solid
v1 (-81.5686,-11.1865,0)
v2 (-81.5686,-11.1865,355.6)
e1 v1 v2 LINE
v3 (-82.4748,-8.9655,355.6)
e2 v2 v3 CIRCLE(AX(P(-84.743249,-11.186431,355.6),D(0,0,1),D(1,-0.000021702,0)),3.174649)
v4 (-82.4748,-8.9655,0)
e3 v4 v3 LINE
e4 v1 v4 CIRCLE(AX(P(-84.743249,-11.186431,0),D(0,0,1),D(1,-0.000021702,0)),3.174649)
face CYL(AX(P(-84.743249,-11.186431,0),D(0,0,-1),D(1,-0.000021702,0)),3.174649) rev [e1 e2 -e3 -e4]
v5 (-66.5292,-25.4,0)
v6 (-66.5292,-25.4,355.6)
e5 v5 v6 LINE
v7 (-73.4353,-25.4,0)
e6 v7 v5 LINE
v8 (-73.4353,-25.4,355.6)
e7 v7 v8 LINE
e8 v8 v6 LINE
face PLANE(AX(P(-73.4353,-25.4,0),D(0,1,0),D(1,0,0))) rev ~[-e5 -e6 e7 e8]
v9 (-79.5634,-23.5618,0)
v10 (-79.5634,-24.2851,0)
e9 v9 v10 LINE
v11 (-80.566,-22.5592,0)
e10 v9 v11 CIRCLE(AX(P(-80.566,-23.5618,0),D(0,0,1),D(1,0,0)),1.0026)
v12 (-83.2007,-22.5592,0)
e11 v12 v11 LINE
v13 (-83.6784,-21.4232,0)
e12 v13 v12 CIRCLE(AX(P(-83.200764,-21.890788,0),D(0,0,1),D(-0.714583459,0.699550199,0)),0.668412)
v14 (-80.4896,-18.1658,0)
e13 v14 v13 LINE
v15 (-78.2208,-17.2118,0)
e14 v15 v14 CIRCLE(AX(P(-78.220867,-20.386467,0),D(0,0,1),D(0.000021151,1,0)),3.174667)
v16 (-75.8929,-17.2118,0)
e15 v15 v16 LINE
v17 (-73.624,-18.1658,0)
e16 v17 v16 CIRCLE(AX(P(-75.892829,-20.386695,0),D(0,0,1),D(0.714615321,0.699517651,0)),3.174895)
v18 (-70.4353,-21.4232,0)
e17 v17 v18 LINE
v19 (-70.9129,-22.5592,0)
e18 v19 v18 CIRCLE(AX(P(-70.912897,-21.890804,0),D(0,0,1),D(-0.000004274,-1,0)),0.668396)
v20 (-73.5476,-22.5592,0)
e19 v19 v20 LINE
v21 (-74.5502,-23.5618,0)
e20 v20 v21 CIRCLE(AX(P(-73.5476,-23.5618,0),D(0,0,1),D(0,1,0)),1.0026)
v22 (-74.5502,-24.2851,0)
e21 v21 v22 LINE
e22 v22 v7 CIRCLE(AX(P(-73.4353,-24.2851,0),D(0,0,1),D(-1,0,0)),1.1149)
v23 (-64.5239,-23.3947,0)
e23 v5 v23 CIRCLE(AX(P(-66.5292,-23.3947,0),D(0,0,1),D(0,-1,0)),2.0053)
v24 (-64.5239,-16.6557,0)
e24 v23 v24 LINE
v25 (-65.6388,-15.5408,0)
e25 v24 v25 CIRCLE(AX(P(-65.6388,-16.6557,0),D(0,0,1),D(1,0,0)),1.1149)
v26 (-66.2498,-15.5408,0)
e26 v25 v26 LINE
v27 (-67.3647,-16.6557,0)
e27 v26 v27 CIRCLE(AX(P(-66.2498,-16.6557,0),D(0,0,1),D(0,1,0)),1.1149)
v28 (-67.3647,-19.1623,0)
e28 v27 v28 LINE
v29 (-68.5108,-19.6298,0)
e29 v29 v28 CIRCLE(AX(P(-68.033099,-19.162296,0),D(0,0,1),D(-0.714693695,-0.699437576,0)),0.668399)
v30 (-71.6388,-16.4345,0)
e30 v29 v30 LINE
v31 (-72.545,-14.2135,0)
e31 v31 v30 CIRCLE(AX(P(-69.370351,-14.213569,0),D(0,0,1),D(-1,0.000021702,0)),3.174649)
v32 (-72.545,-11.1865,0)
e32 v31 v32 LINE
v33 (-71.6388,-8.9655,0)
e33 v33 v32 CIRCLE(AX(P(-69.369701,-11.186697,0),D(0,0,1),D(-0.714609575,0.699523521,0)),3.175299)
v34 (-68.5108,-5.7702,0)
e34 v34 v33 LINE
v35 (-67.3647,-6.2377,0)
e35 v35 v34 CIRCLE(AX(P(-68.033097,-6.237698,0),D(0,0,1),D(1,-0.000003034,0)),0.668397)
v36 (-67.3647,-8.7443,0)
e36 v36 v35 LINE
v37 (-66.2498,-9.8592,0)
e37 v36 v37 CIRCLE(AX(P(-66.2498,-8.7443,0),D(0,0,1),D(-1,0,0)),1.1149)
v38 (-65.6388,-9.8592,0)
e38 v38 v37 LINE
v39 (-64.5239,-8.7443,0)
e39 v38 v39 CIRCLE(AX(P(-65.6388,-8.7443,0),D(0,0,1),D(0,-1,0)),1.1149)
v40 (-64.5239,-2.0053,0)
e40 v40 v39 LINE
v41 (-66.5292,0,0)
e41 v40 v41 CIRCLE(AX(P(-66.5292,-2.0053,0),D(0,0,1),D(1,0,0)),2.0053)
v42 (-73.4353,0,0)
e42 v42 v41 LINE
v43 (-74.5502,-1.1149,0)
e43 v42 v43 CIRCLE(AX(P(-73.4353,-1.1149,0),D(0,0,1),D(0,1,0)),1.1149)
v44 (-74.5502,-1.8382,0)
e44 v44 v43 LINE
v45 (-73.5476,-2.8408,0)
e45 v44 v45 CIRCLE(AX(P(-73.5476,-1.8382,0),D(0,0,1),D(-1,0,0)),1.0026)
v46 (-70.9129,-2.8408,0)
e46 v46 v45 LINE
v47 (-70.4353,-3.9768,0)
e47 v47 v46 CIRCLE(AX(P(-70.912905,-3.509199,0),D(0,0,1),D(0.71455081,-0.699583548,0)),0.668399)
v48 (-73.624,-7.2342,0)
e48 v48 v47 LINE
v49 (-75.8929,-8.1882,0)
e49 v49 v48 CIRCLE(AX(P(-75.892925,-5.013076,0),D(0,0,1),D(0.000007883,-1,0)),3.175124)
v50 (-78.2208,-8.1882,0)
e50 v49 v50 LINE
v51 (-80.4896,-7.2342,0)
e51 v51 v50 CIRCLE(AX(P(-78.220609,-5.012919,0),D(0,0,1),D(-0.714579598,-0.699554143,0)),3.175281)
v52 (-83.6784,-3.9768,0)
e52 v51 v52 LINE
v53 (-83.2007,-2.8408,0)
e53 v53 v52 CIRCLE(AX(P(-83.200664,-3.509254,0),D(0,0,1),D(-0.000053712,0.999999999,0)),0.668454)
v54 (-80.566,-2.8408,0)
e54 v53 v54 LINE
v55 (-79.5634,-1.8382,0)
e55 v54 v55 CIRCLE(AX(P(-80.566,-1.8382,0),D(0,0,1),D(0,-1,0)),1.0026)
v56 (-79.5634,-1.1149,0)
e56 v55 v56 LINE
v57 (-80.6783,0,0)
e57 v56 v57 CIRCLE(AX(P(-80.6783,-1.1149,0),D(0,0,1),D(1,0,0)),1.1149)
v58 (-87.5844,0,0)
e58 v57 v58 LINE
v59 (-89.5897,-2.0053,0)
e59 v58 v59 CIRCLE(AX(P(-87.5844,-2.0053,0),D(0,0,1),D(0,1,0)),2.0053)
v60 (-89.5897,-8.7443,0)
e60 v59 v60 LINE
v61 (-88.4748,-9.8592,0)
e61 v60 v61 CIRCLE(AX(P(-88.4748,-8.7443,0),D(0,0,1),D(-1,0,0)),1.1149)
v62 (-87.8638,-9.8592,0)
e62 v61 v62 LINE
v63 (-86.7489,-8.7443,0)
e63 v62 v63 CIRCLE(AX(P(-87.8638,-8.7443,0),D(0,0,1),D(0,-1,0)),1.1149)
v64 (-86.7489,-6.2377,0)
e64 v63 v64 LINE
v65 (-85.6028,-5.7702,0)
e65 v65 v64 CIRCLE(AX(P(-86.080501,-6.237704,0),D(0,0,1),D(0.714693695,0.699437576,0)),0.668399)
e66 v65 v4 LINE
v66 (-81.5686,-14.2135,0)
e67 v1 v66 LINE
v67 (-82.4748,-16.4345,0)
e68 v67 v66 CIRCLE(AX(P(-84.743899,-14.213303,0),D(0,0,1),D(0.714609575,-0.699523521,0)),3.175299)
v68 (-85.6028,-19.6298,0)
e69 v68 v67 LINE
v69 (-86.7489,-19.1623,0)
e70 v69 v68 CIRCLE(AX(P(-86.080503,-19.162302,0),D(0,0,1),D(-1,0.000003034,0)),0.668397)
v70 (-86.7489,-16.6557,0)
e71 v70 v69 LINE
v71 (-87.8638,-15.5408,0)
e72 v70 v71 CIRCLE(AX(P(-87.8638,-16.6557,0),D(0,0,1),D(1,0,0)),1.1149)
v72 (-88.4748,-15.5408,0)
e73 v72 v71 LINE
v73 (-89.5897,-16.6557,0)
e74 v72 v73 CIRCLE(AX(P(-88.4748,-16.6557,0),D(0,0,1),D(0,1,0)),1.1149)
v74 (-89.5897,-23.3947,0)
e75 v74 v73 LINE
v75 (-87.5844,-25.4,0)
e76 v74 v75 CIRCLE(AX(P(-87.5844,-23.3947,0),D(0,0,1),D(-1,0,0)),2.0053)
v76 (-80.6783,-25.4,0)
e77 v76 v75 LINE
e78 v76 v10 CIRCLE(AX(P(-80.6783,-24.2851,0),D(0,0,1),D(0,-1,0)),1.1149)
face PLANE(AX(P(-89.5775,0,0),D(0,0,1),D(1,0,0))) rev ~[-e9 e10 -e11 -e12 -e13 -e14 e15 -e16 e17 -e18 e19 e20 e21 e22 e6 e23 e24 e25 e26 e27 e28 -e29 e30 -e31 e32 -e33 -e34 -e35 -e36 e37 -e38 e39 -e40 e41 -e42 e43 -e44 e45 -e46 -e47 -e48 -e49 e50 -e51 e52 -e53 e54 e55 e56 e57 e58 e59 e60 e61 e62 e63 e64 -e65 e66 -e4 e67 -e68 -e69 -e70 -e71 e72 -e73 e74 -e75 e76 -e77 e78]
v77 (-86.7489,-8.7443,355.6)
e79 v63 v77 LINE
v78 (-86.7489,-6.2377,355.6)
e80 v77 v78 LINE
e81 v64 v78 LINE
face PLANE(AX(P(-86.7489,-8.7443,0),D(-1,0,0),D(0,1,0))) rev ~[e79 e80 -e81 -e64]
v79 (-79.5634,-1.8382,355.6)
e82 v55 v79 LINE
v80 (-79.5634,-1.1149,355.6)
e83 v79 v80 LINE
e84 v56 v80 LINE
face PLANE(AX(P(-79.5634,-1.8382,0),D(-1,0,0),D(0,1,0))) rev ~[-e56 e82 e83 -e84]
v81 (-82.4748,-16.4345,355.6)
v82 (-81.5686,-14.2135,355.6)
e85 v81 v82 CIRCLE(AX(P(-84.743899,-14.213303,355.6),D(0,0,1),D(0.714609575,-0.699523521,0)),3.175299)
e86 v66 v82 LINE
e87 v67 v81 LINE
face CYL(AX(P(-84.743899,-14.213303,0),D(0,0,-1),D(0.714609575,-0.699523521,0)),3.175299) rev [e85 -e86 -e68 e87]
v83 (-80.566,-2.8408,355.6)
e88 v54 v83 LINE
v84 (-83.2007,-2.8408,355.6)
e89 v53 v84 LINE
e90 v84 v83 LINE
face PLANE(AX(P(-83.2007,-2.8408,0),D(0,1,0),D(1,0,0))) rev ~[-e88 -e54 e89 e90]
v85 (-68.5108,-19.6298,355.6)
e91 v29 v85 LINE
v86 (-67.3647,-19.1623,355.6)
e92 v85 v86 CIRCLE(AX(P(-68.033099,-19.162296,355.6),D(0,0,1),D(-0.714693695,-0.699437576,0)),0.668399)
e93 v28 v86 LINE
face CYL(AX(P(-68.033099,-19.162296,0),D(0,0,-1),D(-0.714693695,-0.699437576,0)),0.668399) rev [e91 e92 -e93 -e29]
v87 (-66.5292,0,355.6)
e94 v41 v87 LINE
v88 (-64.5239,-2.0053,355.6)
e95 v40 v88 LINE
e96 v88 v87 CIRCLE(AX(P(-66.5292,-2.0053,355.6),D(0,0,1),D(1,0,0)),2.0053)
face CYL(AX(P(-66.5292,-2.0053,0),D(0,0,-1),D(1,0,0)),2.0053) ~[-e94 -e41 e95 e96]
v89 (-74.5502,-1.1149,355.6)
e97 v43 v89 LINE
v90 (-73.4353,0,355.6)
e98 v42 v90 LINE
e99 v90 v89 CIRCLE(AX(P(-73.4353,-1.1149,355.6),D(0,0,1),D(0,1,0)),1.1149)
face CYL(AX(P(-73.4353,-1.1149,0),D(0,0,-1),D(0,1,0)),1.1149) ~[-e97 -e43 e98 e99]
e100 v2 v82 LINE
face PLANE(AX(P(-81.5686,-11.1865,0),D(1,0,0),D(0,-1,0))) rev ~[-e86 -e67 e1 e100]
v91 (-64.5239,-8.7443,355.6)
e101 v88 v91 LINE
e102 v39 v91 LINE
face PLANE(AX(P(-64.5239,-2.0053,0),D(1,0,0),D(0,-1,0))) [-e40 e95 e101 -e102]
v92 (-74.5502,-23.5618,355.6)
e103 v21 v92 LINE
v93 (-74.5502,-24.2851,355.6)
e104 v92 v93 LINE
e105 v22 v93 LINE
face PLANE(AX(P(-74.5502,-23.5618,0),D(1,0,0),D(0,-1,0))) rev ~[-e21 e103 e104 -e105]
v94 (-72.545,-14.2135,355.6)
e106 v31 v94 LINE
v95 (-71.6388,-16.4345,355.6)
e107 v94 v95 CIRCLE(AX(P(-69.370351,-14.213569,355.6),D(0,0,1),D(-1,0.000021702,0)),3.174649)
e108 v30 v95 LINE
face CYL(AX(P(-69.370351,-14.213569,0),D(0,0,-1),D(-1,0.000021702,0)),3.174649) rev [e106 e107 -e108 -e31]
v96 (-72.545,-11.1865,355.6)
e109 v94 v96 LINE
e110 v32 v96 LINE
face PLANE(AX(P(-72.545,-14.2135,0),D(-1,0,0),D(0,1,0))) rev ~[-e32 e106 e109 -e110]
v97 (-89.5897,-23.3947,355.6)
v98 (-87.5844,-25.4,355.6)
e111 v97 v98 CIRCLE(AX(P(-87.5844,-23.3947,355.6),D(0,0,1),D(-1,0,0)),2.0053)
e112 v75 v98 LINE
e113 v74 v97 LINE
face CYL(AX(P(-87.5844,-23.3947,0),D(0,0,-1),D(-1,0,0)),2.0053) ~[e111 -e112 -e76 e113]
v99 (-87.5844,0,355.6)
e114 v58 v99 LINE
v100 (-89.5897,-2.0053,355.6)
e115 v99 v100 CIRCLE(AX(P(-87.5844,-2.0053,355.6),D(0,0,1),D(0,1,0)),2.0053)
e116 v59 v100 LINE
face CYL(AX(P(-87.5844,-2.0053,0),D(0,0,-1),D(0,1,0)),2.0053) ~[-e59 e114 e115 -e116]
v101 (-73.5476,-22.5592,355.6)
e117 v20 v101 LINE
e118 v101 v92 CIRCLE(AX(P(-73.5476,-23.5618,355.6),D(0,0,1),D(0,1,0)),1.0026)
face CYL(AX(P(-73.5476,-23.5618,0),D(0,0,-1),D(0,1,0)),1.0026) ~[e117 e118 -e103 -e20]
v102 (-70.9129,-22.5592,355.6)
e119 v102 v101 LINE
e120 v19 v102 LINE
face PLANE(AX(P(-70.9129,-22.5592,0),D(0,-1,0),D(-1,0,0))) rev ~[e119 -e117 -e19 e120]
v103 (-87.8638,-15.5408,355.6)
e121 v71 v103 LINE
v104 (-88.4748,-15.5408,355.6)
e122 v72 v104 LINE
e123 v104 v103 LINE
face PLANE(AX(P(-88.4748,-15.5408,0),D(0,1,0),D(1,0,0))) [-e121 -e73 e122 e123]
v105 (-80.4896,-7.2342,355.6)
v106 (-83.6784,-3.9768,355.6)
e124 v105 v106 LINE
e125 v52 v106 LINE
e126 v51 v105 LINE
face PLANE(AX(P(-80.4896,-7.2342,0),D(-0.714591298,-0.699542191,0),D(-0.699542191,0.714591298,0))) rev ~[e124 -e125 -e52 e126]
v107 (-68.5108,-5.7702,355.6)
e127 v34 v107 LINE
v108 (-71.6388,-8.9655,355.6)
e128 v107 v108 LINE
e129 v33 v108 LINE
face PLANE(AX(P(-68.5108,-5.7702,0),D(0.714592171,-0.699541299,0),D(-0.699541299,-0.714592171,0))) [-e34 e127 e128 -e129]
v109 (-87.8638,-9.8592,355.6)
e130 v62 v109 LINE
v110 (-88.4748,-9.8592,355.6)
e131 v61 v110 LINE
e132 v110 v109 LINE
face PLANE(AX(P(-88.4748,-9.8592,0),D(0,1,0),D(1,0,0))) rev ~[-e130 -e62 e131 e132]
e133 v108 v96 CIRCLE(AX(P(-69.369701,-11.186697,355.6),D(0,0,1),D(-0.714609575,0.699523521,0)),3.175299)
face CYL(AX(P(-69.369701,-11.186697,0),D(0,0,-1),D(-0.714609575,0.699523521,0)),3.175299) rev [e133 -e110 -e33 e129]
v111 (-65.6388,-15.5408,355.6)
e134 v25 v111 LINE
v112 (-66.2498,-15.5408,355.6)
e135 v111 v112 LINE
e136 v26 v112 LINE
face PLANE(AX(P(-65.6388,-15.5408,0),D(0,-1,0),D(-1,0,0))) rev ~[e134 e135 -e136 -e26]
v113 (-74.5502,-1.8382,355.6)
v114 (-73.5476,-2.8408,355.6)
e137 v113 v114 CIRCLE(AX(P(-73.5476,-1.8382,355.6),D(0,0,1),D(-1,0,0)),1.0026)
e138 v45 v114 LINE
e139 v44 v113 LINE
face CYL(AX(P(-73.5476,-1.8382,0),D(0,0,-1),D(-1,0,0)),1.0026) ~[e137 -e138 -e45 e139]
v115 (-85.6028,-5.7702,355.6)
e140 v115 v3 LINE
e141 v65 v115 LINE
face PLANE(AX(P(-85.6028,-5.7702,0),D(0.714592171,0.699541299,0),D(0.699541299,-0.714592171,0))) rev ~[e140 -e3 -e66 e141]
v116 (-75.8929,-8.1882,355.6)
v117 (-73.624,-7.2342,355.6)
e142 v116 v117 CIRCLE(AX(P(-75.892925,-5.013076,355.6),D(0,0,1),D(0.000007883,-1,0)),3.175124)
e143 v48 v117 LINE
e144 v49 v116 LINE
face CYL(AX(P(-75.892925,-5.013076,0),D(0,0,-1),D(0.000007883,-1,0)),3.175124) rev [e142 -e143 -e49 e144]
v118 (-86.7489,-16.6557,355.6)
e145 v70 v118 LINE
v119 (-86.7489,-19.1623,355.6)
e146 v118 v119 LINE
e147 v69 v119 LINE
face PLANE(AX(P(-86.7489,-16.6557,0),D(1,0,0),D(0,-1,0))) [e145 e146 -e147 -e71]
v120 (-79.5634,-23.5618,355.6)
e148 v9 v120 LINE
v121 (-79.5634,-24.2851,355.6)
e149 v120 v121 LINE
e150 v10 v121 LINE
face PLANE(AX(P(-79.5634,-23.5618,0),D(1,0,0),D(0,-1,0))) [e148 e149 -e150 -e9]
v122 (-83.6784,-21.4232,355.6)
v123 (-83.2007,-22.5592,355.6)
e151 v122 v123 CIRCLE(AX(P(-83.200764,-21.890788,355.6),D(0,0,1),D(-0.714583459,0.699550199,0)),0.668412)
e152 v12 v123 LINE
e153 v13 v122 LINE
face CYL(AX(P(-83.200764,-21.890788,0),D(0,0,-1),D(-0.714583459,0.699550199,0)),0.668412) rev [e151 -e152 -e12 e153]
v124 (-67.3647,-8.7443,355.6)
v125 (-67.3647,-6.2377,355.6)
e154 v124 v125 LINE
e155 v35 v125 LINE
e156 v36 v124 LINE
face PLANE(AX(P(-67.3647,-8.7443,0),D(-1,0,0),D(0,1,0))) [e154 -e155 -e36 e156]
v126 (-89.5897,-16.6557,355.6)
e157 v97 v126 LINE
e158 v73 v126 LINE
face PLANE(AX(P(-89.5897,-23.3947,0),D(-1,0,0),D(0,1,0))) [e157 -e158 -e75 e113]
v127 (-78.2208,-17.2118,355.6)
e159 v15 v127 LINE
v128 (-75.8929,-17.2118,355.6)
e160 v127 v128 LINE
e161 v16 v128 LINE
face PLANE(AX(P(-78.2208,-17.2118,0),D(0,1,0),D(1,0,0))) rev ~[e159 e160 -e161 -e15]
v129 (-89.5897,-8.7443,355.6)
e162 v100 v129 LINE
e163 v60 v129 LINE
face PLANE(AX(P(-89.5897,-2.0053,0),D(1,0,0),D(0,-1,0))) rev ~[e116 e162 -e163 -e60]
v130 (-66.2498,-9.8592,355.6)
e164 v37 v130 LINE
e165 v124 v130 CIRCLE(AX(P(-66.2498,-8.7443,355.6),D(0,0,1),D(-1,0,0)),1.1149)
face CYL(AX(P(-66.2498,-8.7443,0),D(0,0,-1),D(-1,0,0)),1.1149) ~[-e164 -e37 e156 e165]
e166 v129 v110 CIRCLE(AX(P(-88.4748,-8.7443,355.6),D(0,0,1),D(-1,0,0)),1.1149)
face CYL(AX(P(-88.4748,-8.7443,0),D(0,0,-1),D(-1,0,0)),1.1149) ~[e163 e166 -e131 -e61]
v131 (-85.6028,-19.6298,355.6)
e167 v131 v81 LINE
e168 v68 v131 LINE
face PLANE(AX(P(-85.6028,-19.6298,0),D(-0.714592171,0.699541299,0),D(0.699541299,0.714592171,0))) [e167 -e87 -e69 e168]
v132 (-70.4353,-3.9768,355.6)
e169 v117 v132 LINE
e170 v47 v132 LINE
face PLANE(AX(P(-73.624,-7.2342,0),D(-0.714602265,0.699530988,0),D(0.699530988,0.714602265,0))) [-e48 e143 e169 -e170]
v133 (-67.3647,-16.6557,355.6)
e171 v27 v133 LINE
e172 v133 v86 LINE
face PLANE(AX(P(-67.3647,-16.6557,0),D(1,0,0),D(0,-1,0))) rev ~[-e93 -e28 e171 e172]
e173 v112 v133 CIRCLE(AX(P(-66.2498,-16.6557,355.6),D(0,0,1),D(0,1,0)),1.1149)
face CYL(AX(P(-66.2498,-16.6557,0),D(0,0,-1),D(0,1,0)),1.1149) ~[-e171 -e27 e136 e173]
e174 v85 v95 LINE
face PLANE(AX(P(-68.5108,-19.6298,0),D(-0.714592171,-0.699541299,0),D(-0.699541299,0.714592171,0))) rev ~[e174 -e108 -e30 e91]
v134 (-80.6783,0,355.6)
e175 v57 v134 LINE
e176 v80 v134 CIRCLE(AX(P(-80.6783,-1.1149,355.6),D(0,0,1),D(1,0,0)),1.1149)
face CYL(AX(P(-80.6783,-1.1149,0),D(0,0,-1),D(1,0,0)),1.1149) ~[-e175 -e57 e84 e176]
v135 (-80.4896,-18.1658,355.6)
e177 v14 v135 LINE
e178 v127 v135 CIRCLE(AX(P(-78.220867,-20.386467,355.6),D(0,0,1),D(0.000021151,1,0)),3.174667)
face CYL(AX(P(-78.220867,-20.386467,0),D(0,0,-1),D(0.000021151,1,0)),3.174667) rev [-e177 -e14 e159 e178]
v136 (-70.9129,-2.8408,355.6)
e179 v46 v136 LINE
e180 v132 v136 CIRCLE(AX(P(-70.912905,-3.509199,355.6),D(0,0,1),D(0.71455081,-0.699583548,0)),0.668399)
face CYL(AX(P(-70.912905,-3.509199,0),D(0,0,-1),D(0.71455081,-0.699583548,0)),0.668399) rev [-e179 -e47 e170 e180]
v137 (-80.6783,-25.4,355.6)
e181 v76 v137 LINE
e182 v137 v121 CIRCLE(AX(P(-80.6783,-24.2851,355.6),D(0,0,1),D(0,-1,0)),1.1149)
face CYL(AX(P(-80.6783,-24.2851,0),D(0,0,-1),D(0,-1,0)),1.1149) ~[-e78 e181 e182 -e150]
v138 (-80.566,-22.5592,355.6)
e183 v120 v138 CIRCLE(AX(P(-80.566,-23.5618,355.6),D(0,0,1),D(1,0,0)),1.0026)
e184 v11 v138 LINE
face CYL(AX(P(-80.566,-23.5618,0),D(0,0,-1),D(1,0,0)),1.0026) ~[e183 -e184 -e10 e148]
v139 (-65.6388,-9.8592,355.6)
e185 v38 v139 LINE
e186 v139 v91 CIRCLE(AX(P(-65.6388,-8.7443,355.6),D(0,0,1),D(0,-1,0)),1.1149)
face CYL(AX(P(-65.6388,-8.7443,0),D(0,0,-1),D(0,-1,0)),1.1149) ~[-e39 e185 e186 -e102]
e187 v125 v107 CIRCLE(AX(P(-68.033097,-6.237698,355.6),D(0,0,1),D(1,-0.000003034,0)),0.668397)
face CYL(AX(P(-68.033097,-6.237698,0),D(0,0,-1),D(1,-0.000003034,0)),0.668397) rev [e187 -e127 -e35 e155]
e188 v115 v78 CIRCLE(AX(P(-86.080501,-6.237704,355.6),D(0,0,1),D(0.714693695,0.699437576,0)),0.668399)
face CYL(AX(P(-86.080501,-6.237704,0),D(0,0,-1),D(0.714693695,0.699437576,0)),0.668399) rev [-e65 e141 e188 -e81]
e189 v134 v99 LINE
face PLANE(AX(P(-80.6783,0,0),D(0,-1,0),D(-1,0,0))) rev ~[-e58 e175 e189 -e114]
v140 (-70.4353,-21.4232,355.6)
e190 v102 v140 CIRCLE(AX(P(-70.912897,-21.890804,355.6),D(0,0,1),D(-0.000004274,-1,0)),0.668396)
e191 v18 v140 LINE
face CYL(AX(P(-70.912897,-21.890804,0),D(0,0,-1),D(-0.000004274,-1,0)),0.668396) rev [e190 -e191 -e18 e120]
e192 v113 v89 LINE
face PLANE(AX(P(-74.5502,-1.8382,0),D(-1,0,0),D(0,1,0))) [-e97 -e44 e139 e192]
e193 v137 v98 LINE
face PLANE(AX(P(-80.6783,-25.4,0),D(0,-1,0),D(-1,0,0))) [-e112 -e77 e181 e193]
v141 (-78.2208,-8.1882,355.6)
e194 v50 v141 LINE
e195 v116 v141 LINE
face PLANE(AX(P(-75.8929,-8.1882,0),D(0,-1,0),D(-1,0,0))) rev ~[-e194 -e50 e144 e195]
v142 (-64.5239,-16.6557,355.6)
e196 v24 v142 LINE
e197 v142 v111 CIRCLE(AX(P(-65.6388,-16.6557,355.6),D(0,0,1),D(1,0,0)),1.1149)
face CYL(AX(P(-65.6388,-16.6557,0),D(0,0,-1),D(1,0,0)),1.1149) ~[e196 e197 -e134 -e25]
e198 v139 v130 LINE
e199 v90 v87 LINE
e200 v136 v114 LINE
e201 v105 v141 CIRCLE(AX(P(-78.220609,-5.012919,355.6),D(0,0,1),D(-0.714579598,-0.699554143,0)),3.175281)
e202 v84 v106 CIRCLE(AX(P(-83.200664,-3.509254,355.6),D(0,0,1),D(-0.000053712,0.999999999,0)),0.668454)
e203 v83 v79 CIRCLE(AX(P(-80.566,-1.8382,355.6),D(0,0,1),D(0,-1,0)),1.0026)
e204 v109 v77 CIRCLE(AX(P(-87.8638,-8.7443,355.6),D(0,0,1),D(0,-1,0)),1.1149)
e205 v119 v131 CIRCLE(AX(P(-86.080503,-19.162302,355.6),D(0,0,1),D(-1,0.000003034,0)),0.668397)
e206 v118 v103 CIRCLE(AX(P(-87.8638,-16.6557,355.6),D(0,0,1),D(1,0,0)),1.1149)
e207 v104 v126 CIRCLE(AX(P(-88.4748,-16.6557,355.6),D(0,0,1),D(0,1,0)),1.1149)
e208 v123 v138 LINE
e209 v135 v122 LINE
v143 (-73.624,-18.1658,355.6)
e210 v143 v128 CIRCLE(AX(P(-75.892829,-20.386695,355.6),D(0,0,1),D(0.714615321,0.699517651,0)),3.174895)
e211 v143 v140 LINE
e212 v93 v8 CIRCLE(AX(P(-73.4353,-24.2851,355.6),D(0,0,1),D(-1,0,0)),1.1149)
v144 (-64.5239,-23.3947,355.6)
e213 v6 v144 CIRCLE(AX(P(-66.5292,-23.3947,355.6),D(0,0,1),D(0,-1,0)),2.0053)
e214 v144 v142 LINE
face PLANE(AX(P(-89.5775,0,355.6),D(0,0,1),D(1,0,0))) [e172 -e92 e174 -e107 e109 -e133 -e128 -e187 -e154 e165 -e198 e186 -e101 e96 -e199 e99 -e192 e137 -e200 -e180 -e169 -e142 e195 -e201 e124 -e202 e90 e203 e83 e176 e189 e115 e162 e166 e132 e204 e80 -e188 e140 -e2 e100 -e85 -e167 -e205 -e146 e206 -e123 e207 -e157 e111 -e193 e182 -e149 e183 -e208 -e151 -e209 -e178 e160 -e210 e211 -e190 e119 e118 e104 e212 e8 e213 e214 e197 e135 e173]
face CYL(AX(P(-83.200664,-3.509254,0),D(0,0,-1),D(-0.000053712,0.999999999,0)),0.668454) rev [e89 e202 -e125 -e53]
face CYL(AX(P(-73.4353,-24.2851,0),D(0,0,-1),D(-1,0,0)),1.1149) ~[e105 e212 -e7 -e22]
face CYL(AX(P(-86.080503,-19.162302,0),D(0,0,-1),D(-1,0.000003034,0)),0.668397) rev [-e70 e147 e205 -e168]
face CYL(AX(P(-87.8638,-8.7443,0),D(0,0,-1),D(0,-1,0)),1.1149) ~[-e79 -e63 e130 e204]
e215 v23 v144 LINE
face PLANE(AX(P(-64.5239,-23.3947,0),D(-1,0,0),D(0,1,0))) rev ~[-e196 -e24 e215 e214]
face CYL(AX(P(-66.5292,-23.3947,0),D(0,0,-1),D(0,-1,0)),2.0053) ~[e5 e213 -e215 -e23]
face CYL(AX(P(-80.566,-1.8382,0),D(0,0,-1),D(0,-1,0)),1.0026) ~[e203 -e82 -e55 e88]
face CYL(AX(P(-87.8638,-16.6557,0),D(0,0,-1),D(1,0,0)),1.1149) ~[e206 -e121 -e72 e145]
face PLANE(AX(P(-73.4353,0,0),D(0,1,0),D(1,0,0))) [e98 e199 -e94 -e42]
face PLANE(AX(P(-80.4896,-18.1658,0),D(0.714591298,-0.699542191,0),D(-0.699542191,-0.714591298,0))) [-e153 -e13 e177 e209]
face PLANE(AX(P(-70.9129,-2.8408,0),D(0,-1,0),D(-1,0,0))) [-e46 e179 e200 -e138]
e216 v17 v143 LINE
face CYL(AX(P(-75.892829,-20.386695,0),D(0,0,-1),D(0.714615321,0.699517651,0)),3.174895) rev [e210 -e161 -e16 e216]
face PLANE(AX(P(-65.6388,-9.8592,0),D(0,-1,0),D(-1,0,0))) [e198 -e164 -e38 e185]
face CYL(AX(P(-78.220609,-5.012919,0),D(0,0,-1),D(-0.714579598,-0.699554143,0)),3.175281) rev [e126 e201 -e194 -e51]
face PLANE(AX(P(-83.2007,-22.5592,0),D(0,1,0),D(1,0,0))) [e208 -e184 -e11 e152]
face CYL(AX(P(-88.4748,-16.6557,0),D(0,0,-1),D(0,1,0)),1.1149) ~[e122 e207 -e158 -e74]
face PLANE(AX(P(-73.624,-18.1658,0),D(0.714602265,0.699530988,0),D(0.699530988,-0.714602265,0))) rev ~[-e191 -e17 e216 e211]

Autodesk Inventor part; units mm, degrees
ref_plane "YZ Plane" through (0, 0, 0) normal (1, 0, 0) x (0, 1, 0)
ref_plane "XZ Plane" through (0, 0, 0) normal (0, 1, 0) x (-1, 0, 0)
ref_plane "XY Plane" through (0, 0, 0) normal (0, 0, 1) x (1, 0, 0)
ref_plane "Work Plane1" through (-89.5775, 0, 0) normal (0, 0, 1) x (1, 0, 0)
sketch "Sketch1" plane through (-89.5775, 0, 0) normal (0, 0, 1) x (1, 0, 0)
  arc A0 (19.1422, -3.9768) -> (18.6646, -2.8408) centre (18.6646, -3.5092) ccw
  line L0 (15.9535, -7.2342) -> (19.1422, -3.9768)
  line L1 (21.0667, -5.7702) -> (17.9387, -8.9655)
  arc A1 (22.2128, -6.2377) -> (21.0667, -5.7702) centre (21.5444, -6.2377) ccw
  line L2 (25.0536, -2.0053) -> (25.0536, -8.7443)
  line L3 (22.2128, -8.7443) -> (22.2128, -6.2377)
  line L4 (-0.0122, -2.0053) -> (-0.0122, -8.7443)
  arc A2 (3.9747, -5.7702) -> (2.8286, -6.2377) centre (3.497, -6.2377) ccw
  arc A3 (1.9931, 0) -> (-0.0122, -2.0053) centre (1.9931, -2.0053) ccw
  line L5 (8.8992, 0) -> (1.9931, 0)
  arc A4 (7.1027, -16.4345) -> (8.0089, -14.2135) centre (4.8339, -14.2135) ccw
  arc A5 (18.6646, -22.5592) -> (19.1422, -21.4232) centre (18.6646, -21.8908) ccw
  line L6 (15.9535, -18.1658) -> (19.1422, -21.4232)
  arc A6 (21.0667, -19.6298) -> (22.2128, -19.1623) centre (21.5444, -19.1623) ccw
  line L7 (21.0667, -19.6298) -> (17.9387, -16.4345)
  line L8 (22.2128, -16.6557) -> (22.2128, -19.1623)
  line L9 (25.0536, -23.3947) -> (25.0536, -16.6557)
  line L10 (16.1422, 0) -> (23.0483, 0)
  line L11 (18.6646, -2.8408) -> (16.0299, -2.8408)
  arc A7 (22.2128, -8.7443) -> (23.3277, -9.8592) centre (23.3277, -8.7443) ccw
  line L12 (23.9387, -9.8592) -> (23.3277, -9.8592)
  arc A8 (23.9387, -9.8592) -> (25.0536, -8.7443) centre (23.9387, -8.7443) ccw
  arc A9 (6.3768, -2.8408) -> (5.8991, -3.9768) centre (6.3768, -3.5092) ccw
  line L13 (3.9747, -5.7702) -> (7.1027, -8.9655)
  line L14 (9.0879, -7.2342) -> (5.8991, -3.9768)
  arc A10 (2.8286, -19.1623) -> (3.9747, -19.6298) centre (3.497, -19.1623) ccw
  line L15 (-0.0122, -23.3947) -> (-0.0122, -16.6557)
  line L16 (3.9747, -19.6298) -> (7.1027, -16.4345)
  arc A11 (5.8991, -21.4232) -> (6.3768, -22.5592) centre (6.3768, -21.8908) ccw
  line L17 (9.0879, -18.1658) -> (5.8991, -21.4232)
  line L18 (2.8286, -16.6557) -> (2.8286, -19.1623)
  arc A12 (23.0483, -25.4) -> (25.0536, -23.3947) centre (23.0483, -23.3947) ccw
  arc A13 (25.0536, -2.0053) -> (23.0483, 0) centre (23.0483, -2.0053) ccw
  arc A14 (13.6846, -8.1882) -> (15.9535, -7.2342) centre (13.6846, -5.0132) ccw
  line L19 (13.6846, -8.1882) -> (11.3567, -8.1882)
  arc A15 (9.0115, -2.8408) -> (10.0141, -1.8382) centre (9.0115, -1.8382) ccw
  arc A16 (9.0879, -7.2342) -> (11.3567, -8.1882) centre (11.3567, -5.0132) ccw
  arc A17 (17.9387, -8.9655) -> (17.0325, -11.1865) centre (20.2075, -11.1865) ccw
  line L20 (17.0325, -14.2135) -> (17.0325, -11.1865)
  line L21 (6.3768, -2.8408) -> (9.0115, -2.8408)
  line L22 (10.0141, -1.8382) -> (10.0141, -1.1149)
  arc A18 (10.0141, -1.1149) -> (8.8992, 0) centre (8.8992, -1.1149) ccw
  line L23 (2.8286, -8.7443) -> (2.8286, -6.2377)
  arc A19 (1.7137, -9.8592) -> (2.8286, -8.7443) centre (1.7137, -8.7443) ccw
  line L24 (1.1027, -9.8592) -> (1.7137, -9.8592)
  arc A20 (-0.0122, -8.7443) -> (1.1027, -9.8592) centre (1.1027, -8.7443) ccw
  line L25 (6.3768, -22.5592) -> (9.0115, -22.5592)
  arc A21 (10.0141, -23.5618) -> (9.0115, -22.5592) centre (9.0115, -23.5618) ccw
  line L26 (10.0141, -23.5618) -> (10.0141, -24.2851)
  arc A22 (8.8992, -25.4) -> (10.0141, -24.2851) centre (8.8992, -24.2851) ccw
  line L27 (8.8992, -25.4) -> (1.9931, -25.4)
  arc A23 (17.0325, -14.2135) -> (17.9387, -16.4345) centre (20.2075, -14.2135) ccw
  line L28 (23.9387, -15.5408) -> (23.3277, -15.5408)
  arc A24 (23.3277, -15.5408) -> (22.2128, -16.6557) centre (23.3277, -16.6557) ccw
  arc A25 (25.0536, -16.6557) -> (23.9387, -15.5408) centre (23.9387, -16.6557) ccw
  line L29 (16.1422, -25.4) -> (23.0483, -25.4)
  line L30 (18.6646, -22.5592) -> (16.0299, -22.5592)
  line L31 (8.0089, -11.1865) -> (8.0089, -14.2135)
  arc A26 (8.0089, -11.1865) -> (7.1027, -8.9655) centre (4.8339, -11.1865) ccw
  arc A27 (15.0273, -1.8382) -> (16.0299, -2.8408) centre (16.0299, -1.8382) ccw
  line L32 (15.0273, -1.8382) -> (15.0273, -1.1149)
  arc A28 (16.1422, 0) -> (15.0273, -1.1149) centre (16.1422, -1.1149) ccw
  arc A29 (-0.0122, -23.3947) -> (1.9931, -25.4) centre (1.9931, -23.3947) ccw
  arc A30 (11.3567, -17.2118) -> (9.0879, -18.1658) centre (11.3567, -20.3868) ccw
  line L33 (11.3567, -17.2118) -> (13.6846, -17.2118)
  arc A31 (15.9535, -18.1658) -> (13.6846, -17.2118) centre (13.6846, -20.3868) ccw
  arc A32 (16.0299, -22.5592) -> (15.0273, -23.5618) centre (16.0299, -23.5618) ccw
  line L34 (15.0273, -23.5618) -> (15.0273, -24.2851)
  arc A33 (15.0273, -24.2851) -> (16.1422, -25.4) centre (16.1422, -24.2851) ccw
  line L35 (1.1027, -15.5408) -> (1.7137, -15.5408)
  arc A34 (1.1027, -15.5408) -> (-0.0122, -16.6557) centre (1.1027, -16.6557) ccw
  arc A35 (2.8286, -16.6557) -> (1.7137, -15.5408) centre (1.7137, -16.6557) ccw
  point P0 (89.5775, 0)
  point P1 (12.5207, -12.7)
  dimension "d0" = 25.4
extrude "Extrusion1" add sketch "Sketch1" along normal blind 355.6
properties part number "extruded vertical"
